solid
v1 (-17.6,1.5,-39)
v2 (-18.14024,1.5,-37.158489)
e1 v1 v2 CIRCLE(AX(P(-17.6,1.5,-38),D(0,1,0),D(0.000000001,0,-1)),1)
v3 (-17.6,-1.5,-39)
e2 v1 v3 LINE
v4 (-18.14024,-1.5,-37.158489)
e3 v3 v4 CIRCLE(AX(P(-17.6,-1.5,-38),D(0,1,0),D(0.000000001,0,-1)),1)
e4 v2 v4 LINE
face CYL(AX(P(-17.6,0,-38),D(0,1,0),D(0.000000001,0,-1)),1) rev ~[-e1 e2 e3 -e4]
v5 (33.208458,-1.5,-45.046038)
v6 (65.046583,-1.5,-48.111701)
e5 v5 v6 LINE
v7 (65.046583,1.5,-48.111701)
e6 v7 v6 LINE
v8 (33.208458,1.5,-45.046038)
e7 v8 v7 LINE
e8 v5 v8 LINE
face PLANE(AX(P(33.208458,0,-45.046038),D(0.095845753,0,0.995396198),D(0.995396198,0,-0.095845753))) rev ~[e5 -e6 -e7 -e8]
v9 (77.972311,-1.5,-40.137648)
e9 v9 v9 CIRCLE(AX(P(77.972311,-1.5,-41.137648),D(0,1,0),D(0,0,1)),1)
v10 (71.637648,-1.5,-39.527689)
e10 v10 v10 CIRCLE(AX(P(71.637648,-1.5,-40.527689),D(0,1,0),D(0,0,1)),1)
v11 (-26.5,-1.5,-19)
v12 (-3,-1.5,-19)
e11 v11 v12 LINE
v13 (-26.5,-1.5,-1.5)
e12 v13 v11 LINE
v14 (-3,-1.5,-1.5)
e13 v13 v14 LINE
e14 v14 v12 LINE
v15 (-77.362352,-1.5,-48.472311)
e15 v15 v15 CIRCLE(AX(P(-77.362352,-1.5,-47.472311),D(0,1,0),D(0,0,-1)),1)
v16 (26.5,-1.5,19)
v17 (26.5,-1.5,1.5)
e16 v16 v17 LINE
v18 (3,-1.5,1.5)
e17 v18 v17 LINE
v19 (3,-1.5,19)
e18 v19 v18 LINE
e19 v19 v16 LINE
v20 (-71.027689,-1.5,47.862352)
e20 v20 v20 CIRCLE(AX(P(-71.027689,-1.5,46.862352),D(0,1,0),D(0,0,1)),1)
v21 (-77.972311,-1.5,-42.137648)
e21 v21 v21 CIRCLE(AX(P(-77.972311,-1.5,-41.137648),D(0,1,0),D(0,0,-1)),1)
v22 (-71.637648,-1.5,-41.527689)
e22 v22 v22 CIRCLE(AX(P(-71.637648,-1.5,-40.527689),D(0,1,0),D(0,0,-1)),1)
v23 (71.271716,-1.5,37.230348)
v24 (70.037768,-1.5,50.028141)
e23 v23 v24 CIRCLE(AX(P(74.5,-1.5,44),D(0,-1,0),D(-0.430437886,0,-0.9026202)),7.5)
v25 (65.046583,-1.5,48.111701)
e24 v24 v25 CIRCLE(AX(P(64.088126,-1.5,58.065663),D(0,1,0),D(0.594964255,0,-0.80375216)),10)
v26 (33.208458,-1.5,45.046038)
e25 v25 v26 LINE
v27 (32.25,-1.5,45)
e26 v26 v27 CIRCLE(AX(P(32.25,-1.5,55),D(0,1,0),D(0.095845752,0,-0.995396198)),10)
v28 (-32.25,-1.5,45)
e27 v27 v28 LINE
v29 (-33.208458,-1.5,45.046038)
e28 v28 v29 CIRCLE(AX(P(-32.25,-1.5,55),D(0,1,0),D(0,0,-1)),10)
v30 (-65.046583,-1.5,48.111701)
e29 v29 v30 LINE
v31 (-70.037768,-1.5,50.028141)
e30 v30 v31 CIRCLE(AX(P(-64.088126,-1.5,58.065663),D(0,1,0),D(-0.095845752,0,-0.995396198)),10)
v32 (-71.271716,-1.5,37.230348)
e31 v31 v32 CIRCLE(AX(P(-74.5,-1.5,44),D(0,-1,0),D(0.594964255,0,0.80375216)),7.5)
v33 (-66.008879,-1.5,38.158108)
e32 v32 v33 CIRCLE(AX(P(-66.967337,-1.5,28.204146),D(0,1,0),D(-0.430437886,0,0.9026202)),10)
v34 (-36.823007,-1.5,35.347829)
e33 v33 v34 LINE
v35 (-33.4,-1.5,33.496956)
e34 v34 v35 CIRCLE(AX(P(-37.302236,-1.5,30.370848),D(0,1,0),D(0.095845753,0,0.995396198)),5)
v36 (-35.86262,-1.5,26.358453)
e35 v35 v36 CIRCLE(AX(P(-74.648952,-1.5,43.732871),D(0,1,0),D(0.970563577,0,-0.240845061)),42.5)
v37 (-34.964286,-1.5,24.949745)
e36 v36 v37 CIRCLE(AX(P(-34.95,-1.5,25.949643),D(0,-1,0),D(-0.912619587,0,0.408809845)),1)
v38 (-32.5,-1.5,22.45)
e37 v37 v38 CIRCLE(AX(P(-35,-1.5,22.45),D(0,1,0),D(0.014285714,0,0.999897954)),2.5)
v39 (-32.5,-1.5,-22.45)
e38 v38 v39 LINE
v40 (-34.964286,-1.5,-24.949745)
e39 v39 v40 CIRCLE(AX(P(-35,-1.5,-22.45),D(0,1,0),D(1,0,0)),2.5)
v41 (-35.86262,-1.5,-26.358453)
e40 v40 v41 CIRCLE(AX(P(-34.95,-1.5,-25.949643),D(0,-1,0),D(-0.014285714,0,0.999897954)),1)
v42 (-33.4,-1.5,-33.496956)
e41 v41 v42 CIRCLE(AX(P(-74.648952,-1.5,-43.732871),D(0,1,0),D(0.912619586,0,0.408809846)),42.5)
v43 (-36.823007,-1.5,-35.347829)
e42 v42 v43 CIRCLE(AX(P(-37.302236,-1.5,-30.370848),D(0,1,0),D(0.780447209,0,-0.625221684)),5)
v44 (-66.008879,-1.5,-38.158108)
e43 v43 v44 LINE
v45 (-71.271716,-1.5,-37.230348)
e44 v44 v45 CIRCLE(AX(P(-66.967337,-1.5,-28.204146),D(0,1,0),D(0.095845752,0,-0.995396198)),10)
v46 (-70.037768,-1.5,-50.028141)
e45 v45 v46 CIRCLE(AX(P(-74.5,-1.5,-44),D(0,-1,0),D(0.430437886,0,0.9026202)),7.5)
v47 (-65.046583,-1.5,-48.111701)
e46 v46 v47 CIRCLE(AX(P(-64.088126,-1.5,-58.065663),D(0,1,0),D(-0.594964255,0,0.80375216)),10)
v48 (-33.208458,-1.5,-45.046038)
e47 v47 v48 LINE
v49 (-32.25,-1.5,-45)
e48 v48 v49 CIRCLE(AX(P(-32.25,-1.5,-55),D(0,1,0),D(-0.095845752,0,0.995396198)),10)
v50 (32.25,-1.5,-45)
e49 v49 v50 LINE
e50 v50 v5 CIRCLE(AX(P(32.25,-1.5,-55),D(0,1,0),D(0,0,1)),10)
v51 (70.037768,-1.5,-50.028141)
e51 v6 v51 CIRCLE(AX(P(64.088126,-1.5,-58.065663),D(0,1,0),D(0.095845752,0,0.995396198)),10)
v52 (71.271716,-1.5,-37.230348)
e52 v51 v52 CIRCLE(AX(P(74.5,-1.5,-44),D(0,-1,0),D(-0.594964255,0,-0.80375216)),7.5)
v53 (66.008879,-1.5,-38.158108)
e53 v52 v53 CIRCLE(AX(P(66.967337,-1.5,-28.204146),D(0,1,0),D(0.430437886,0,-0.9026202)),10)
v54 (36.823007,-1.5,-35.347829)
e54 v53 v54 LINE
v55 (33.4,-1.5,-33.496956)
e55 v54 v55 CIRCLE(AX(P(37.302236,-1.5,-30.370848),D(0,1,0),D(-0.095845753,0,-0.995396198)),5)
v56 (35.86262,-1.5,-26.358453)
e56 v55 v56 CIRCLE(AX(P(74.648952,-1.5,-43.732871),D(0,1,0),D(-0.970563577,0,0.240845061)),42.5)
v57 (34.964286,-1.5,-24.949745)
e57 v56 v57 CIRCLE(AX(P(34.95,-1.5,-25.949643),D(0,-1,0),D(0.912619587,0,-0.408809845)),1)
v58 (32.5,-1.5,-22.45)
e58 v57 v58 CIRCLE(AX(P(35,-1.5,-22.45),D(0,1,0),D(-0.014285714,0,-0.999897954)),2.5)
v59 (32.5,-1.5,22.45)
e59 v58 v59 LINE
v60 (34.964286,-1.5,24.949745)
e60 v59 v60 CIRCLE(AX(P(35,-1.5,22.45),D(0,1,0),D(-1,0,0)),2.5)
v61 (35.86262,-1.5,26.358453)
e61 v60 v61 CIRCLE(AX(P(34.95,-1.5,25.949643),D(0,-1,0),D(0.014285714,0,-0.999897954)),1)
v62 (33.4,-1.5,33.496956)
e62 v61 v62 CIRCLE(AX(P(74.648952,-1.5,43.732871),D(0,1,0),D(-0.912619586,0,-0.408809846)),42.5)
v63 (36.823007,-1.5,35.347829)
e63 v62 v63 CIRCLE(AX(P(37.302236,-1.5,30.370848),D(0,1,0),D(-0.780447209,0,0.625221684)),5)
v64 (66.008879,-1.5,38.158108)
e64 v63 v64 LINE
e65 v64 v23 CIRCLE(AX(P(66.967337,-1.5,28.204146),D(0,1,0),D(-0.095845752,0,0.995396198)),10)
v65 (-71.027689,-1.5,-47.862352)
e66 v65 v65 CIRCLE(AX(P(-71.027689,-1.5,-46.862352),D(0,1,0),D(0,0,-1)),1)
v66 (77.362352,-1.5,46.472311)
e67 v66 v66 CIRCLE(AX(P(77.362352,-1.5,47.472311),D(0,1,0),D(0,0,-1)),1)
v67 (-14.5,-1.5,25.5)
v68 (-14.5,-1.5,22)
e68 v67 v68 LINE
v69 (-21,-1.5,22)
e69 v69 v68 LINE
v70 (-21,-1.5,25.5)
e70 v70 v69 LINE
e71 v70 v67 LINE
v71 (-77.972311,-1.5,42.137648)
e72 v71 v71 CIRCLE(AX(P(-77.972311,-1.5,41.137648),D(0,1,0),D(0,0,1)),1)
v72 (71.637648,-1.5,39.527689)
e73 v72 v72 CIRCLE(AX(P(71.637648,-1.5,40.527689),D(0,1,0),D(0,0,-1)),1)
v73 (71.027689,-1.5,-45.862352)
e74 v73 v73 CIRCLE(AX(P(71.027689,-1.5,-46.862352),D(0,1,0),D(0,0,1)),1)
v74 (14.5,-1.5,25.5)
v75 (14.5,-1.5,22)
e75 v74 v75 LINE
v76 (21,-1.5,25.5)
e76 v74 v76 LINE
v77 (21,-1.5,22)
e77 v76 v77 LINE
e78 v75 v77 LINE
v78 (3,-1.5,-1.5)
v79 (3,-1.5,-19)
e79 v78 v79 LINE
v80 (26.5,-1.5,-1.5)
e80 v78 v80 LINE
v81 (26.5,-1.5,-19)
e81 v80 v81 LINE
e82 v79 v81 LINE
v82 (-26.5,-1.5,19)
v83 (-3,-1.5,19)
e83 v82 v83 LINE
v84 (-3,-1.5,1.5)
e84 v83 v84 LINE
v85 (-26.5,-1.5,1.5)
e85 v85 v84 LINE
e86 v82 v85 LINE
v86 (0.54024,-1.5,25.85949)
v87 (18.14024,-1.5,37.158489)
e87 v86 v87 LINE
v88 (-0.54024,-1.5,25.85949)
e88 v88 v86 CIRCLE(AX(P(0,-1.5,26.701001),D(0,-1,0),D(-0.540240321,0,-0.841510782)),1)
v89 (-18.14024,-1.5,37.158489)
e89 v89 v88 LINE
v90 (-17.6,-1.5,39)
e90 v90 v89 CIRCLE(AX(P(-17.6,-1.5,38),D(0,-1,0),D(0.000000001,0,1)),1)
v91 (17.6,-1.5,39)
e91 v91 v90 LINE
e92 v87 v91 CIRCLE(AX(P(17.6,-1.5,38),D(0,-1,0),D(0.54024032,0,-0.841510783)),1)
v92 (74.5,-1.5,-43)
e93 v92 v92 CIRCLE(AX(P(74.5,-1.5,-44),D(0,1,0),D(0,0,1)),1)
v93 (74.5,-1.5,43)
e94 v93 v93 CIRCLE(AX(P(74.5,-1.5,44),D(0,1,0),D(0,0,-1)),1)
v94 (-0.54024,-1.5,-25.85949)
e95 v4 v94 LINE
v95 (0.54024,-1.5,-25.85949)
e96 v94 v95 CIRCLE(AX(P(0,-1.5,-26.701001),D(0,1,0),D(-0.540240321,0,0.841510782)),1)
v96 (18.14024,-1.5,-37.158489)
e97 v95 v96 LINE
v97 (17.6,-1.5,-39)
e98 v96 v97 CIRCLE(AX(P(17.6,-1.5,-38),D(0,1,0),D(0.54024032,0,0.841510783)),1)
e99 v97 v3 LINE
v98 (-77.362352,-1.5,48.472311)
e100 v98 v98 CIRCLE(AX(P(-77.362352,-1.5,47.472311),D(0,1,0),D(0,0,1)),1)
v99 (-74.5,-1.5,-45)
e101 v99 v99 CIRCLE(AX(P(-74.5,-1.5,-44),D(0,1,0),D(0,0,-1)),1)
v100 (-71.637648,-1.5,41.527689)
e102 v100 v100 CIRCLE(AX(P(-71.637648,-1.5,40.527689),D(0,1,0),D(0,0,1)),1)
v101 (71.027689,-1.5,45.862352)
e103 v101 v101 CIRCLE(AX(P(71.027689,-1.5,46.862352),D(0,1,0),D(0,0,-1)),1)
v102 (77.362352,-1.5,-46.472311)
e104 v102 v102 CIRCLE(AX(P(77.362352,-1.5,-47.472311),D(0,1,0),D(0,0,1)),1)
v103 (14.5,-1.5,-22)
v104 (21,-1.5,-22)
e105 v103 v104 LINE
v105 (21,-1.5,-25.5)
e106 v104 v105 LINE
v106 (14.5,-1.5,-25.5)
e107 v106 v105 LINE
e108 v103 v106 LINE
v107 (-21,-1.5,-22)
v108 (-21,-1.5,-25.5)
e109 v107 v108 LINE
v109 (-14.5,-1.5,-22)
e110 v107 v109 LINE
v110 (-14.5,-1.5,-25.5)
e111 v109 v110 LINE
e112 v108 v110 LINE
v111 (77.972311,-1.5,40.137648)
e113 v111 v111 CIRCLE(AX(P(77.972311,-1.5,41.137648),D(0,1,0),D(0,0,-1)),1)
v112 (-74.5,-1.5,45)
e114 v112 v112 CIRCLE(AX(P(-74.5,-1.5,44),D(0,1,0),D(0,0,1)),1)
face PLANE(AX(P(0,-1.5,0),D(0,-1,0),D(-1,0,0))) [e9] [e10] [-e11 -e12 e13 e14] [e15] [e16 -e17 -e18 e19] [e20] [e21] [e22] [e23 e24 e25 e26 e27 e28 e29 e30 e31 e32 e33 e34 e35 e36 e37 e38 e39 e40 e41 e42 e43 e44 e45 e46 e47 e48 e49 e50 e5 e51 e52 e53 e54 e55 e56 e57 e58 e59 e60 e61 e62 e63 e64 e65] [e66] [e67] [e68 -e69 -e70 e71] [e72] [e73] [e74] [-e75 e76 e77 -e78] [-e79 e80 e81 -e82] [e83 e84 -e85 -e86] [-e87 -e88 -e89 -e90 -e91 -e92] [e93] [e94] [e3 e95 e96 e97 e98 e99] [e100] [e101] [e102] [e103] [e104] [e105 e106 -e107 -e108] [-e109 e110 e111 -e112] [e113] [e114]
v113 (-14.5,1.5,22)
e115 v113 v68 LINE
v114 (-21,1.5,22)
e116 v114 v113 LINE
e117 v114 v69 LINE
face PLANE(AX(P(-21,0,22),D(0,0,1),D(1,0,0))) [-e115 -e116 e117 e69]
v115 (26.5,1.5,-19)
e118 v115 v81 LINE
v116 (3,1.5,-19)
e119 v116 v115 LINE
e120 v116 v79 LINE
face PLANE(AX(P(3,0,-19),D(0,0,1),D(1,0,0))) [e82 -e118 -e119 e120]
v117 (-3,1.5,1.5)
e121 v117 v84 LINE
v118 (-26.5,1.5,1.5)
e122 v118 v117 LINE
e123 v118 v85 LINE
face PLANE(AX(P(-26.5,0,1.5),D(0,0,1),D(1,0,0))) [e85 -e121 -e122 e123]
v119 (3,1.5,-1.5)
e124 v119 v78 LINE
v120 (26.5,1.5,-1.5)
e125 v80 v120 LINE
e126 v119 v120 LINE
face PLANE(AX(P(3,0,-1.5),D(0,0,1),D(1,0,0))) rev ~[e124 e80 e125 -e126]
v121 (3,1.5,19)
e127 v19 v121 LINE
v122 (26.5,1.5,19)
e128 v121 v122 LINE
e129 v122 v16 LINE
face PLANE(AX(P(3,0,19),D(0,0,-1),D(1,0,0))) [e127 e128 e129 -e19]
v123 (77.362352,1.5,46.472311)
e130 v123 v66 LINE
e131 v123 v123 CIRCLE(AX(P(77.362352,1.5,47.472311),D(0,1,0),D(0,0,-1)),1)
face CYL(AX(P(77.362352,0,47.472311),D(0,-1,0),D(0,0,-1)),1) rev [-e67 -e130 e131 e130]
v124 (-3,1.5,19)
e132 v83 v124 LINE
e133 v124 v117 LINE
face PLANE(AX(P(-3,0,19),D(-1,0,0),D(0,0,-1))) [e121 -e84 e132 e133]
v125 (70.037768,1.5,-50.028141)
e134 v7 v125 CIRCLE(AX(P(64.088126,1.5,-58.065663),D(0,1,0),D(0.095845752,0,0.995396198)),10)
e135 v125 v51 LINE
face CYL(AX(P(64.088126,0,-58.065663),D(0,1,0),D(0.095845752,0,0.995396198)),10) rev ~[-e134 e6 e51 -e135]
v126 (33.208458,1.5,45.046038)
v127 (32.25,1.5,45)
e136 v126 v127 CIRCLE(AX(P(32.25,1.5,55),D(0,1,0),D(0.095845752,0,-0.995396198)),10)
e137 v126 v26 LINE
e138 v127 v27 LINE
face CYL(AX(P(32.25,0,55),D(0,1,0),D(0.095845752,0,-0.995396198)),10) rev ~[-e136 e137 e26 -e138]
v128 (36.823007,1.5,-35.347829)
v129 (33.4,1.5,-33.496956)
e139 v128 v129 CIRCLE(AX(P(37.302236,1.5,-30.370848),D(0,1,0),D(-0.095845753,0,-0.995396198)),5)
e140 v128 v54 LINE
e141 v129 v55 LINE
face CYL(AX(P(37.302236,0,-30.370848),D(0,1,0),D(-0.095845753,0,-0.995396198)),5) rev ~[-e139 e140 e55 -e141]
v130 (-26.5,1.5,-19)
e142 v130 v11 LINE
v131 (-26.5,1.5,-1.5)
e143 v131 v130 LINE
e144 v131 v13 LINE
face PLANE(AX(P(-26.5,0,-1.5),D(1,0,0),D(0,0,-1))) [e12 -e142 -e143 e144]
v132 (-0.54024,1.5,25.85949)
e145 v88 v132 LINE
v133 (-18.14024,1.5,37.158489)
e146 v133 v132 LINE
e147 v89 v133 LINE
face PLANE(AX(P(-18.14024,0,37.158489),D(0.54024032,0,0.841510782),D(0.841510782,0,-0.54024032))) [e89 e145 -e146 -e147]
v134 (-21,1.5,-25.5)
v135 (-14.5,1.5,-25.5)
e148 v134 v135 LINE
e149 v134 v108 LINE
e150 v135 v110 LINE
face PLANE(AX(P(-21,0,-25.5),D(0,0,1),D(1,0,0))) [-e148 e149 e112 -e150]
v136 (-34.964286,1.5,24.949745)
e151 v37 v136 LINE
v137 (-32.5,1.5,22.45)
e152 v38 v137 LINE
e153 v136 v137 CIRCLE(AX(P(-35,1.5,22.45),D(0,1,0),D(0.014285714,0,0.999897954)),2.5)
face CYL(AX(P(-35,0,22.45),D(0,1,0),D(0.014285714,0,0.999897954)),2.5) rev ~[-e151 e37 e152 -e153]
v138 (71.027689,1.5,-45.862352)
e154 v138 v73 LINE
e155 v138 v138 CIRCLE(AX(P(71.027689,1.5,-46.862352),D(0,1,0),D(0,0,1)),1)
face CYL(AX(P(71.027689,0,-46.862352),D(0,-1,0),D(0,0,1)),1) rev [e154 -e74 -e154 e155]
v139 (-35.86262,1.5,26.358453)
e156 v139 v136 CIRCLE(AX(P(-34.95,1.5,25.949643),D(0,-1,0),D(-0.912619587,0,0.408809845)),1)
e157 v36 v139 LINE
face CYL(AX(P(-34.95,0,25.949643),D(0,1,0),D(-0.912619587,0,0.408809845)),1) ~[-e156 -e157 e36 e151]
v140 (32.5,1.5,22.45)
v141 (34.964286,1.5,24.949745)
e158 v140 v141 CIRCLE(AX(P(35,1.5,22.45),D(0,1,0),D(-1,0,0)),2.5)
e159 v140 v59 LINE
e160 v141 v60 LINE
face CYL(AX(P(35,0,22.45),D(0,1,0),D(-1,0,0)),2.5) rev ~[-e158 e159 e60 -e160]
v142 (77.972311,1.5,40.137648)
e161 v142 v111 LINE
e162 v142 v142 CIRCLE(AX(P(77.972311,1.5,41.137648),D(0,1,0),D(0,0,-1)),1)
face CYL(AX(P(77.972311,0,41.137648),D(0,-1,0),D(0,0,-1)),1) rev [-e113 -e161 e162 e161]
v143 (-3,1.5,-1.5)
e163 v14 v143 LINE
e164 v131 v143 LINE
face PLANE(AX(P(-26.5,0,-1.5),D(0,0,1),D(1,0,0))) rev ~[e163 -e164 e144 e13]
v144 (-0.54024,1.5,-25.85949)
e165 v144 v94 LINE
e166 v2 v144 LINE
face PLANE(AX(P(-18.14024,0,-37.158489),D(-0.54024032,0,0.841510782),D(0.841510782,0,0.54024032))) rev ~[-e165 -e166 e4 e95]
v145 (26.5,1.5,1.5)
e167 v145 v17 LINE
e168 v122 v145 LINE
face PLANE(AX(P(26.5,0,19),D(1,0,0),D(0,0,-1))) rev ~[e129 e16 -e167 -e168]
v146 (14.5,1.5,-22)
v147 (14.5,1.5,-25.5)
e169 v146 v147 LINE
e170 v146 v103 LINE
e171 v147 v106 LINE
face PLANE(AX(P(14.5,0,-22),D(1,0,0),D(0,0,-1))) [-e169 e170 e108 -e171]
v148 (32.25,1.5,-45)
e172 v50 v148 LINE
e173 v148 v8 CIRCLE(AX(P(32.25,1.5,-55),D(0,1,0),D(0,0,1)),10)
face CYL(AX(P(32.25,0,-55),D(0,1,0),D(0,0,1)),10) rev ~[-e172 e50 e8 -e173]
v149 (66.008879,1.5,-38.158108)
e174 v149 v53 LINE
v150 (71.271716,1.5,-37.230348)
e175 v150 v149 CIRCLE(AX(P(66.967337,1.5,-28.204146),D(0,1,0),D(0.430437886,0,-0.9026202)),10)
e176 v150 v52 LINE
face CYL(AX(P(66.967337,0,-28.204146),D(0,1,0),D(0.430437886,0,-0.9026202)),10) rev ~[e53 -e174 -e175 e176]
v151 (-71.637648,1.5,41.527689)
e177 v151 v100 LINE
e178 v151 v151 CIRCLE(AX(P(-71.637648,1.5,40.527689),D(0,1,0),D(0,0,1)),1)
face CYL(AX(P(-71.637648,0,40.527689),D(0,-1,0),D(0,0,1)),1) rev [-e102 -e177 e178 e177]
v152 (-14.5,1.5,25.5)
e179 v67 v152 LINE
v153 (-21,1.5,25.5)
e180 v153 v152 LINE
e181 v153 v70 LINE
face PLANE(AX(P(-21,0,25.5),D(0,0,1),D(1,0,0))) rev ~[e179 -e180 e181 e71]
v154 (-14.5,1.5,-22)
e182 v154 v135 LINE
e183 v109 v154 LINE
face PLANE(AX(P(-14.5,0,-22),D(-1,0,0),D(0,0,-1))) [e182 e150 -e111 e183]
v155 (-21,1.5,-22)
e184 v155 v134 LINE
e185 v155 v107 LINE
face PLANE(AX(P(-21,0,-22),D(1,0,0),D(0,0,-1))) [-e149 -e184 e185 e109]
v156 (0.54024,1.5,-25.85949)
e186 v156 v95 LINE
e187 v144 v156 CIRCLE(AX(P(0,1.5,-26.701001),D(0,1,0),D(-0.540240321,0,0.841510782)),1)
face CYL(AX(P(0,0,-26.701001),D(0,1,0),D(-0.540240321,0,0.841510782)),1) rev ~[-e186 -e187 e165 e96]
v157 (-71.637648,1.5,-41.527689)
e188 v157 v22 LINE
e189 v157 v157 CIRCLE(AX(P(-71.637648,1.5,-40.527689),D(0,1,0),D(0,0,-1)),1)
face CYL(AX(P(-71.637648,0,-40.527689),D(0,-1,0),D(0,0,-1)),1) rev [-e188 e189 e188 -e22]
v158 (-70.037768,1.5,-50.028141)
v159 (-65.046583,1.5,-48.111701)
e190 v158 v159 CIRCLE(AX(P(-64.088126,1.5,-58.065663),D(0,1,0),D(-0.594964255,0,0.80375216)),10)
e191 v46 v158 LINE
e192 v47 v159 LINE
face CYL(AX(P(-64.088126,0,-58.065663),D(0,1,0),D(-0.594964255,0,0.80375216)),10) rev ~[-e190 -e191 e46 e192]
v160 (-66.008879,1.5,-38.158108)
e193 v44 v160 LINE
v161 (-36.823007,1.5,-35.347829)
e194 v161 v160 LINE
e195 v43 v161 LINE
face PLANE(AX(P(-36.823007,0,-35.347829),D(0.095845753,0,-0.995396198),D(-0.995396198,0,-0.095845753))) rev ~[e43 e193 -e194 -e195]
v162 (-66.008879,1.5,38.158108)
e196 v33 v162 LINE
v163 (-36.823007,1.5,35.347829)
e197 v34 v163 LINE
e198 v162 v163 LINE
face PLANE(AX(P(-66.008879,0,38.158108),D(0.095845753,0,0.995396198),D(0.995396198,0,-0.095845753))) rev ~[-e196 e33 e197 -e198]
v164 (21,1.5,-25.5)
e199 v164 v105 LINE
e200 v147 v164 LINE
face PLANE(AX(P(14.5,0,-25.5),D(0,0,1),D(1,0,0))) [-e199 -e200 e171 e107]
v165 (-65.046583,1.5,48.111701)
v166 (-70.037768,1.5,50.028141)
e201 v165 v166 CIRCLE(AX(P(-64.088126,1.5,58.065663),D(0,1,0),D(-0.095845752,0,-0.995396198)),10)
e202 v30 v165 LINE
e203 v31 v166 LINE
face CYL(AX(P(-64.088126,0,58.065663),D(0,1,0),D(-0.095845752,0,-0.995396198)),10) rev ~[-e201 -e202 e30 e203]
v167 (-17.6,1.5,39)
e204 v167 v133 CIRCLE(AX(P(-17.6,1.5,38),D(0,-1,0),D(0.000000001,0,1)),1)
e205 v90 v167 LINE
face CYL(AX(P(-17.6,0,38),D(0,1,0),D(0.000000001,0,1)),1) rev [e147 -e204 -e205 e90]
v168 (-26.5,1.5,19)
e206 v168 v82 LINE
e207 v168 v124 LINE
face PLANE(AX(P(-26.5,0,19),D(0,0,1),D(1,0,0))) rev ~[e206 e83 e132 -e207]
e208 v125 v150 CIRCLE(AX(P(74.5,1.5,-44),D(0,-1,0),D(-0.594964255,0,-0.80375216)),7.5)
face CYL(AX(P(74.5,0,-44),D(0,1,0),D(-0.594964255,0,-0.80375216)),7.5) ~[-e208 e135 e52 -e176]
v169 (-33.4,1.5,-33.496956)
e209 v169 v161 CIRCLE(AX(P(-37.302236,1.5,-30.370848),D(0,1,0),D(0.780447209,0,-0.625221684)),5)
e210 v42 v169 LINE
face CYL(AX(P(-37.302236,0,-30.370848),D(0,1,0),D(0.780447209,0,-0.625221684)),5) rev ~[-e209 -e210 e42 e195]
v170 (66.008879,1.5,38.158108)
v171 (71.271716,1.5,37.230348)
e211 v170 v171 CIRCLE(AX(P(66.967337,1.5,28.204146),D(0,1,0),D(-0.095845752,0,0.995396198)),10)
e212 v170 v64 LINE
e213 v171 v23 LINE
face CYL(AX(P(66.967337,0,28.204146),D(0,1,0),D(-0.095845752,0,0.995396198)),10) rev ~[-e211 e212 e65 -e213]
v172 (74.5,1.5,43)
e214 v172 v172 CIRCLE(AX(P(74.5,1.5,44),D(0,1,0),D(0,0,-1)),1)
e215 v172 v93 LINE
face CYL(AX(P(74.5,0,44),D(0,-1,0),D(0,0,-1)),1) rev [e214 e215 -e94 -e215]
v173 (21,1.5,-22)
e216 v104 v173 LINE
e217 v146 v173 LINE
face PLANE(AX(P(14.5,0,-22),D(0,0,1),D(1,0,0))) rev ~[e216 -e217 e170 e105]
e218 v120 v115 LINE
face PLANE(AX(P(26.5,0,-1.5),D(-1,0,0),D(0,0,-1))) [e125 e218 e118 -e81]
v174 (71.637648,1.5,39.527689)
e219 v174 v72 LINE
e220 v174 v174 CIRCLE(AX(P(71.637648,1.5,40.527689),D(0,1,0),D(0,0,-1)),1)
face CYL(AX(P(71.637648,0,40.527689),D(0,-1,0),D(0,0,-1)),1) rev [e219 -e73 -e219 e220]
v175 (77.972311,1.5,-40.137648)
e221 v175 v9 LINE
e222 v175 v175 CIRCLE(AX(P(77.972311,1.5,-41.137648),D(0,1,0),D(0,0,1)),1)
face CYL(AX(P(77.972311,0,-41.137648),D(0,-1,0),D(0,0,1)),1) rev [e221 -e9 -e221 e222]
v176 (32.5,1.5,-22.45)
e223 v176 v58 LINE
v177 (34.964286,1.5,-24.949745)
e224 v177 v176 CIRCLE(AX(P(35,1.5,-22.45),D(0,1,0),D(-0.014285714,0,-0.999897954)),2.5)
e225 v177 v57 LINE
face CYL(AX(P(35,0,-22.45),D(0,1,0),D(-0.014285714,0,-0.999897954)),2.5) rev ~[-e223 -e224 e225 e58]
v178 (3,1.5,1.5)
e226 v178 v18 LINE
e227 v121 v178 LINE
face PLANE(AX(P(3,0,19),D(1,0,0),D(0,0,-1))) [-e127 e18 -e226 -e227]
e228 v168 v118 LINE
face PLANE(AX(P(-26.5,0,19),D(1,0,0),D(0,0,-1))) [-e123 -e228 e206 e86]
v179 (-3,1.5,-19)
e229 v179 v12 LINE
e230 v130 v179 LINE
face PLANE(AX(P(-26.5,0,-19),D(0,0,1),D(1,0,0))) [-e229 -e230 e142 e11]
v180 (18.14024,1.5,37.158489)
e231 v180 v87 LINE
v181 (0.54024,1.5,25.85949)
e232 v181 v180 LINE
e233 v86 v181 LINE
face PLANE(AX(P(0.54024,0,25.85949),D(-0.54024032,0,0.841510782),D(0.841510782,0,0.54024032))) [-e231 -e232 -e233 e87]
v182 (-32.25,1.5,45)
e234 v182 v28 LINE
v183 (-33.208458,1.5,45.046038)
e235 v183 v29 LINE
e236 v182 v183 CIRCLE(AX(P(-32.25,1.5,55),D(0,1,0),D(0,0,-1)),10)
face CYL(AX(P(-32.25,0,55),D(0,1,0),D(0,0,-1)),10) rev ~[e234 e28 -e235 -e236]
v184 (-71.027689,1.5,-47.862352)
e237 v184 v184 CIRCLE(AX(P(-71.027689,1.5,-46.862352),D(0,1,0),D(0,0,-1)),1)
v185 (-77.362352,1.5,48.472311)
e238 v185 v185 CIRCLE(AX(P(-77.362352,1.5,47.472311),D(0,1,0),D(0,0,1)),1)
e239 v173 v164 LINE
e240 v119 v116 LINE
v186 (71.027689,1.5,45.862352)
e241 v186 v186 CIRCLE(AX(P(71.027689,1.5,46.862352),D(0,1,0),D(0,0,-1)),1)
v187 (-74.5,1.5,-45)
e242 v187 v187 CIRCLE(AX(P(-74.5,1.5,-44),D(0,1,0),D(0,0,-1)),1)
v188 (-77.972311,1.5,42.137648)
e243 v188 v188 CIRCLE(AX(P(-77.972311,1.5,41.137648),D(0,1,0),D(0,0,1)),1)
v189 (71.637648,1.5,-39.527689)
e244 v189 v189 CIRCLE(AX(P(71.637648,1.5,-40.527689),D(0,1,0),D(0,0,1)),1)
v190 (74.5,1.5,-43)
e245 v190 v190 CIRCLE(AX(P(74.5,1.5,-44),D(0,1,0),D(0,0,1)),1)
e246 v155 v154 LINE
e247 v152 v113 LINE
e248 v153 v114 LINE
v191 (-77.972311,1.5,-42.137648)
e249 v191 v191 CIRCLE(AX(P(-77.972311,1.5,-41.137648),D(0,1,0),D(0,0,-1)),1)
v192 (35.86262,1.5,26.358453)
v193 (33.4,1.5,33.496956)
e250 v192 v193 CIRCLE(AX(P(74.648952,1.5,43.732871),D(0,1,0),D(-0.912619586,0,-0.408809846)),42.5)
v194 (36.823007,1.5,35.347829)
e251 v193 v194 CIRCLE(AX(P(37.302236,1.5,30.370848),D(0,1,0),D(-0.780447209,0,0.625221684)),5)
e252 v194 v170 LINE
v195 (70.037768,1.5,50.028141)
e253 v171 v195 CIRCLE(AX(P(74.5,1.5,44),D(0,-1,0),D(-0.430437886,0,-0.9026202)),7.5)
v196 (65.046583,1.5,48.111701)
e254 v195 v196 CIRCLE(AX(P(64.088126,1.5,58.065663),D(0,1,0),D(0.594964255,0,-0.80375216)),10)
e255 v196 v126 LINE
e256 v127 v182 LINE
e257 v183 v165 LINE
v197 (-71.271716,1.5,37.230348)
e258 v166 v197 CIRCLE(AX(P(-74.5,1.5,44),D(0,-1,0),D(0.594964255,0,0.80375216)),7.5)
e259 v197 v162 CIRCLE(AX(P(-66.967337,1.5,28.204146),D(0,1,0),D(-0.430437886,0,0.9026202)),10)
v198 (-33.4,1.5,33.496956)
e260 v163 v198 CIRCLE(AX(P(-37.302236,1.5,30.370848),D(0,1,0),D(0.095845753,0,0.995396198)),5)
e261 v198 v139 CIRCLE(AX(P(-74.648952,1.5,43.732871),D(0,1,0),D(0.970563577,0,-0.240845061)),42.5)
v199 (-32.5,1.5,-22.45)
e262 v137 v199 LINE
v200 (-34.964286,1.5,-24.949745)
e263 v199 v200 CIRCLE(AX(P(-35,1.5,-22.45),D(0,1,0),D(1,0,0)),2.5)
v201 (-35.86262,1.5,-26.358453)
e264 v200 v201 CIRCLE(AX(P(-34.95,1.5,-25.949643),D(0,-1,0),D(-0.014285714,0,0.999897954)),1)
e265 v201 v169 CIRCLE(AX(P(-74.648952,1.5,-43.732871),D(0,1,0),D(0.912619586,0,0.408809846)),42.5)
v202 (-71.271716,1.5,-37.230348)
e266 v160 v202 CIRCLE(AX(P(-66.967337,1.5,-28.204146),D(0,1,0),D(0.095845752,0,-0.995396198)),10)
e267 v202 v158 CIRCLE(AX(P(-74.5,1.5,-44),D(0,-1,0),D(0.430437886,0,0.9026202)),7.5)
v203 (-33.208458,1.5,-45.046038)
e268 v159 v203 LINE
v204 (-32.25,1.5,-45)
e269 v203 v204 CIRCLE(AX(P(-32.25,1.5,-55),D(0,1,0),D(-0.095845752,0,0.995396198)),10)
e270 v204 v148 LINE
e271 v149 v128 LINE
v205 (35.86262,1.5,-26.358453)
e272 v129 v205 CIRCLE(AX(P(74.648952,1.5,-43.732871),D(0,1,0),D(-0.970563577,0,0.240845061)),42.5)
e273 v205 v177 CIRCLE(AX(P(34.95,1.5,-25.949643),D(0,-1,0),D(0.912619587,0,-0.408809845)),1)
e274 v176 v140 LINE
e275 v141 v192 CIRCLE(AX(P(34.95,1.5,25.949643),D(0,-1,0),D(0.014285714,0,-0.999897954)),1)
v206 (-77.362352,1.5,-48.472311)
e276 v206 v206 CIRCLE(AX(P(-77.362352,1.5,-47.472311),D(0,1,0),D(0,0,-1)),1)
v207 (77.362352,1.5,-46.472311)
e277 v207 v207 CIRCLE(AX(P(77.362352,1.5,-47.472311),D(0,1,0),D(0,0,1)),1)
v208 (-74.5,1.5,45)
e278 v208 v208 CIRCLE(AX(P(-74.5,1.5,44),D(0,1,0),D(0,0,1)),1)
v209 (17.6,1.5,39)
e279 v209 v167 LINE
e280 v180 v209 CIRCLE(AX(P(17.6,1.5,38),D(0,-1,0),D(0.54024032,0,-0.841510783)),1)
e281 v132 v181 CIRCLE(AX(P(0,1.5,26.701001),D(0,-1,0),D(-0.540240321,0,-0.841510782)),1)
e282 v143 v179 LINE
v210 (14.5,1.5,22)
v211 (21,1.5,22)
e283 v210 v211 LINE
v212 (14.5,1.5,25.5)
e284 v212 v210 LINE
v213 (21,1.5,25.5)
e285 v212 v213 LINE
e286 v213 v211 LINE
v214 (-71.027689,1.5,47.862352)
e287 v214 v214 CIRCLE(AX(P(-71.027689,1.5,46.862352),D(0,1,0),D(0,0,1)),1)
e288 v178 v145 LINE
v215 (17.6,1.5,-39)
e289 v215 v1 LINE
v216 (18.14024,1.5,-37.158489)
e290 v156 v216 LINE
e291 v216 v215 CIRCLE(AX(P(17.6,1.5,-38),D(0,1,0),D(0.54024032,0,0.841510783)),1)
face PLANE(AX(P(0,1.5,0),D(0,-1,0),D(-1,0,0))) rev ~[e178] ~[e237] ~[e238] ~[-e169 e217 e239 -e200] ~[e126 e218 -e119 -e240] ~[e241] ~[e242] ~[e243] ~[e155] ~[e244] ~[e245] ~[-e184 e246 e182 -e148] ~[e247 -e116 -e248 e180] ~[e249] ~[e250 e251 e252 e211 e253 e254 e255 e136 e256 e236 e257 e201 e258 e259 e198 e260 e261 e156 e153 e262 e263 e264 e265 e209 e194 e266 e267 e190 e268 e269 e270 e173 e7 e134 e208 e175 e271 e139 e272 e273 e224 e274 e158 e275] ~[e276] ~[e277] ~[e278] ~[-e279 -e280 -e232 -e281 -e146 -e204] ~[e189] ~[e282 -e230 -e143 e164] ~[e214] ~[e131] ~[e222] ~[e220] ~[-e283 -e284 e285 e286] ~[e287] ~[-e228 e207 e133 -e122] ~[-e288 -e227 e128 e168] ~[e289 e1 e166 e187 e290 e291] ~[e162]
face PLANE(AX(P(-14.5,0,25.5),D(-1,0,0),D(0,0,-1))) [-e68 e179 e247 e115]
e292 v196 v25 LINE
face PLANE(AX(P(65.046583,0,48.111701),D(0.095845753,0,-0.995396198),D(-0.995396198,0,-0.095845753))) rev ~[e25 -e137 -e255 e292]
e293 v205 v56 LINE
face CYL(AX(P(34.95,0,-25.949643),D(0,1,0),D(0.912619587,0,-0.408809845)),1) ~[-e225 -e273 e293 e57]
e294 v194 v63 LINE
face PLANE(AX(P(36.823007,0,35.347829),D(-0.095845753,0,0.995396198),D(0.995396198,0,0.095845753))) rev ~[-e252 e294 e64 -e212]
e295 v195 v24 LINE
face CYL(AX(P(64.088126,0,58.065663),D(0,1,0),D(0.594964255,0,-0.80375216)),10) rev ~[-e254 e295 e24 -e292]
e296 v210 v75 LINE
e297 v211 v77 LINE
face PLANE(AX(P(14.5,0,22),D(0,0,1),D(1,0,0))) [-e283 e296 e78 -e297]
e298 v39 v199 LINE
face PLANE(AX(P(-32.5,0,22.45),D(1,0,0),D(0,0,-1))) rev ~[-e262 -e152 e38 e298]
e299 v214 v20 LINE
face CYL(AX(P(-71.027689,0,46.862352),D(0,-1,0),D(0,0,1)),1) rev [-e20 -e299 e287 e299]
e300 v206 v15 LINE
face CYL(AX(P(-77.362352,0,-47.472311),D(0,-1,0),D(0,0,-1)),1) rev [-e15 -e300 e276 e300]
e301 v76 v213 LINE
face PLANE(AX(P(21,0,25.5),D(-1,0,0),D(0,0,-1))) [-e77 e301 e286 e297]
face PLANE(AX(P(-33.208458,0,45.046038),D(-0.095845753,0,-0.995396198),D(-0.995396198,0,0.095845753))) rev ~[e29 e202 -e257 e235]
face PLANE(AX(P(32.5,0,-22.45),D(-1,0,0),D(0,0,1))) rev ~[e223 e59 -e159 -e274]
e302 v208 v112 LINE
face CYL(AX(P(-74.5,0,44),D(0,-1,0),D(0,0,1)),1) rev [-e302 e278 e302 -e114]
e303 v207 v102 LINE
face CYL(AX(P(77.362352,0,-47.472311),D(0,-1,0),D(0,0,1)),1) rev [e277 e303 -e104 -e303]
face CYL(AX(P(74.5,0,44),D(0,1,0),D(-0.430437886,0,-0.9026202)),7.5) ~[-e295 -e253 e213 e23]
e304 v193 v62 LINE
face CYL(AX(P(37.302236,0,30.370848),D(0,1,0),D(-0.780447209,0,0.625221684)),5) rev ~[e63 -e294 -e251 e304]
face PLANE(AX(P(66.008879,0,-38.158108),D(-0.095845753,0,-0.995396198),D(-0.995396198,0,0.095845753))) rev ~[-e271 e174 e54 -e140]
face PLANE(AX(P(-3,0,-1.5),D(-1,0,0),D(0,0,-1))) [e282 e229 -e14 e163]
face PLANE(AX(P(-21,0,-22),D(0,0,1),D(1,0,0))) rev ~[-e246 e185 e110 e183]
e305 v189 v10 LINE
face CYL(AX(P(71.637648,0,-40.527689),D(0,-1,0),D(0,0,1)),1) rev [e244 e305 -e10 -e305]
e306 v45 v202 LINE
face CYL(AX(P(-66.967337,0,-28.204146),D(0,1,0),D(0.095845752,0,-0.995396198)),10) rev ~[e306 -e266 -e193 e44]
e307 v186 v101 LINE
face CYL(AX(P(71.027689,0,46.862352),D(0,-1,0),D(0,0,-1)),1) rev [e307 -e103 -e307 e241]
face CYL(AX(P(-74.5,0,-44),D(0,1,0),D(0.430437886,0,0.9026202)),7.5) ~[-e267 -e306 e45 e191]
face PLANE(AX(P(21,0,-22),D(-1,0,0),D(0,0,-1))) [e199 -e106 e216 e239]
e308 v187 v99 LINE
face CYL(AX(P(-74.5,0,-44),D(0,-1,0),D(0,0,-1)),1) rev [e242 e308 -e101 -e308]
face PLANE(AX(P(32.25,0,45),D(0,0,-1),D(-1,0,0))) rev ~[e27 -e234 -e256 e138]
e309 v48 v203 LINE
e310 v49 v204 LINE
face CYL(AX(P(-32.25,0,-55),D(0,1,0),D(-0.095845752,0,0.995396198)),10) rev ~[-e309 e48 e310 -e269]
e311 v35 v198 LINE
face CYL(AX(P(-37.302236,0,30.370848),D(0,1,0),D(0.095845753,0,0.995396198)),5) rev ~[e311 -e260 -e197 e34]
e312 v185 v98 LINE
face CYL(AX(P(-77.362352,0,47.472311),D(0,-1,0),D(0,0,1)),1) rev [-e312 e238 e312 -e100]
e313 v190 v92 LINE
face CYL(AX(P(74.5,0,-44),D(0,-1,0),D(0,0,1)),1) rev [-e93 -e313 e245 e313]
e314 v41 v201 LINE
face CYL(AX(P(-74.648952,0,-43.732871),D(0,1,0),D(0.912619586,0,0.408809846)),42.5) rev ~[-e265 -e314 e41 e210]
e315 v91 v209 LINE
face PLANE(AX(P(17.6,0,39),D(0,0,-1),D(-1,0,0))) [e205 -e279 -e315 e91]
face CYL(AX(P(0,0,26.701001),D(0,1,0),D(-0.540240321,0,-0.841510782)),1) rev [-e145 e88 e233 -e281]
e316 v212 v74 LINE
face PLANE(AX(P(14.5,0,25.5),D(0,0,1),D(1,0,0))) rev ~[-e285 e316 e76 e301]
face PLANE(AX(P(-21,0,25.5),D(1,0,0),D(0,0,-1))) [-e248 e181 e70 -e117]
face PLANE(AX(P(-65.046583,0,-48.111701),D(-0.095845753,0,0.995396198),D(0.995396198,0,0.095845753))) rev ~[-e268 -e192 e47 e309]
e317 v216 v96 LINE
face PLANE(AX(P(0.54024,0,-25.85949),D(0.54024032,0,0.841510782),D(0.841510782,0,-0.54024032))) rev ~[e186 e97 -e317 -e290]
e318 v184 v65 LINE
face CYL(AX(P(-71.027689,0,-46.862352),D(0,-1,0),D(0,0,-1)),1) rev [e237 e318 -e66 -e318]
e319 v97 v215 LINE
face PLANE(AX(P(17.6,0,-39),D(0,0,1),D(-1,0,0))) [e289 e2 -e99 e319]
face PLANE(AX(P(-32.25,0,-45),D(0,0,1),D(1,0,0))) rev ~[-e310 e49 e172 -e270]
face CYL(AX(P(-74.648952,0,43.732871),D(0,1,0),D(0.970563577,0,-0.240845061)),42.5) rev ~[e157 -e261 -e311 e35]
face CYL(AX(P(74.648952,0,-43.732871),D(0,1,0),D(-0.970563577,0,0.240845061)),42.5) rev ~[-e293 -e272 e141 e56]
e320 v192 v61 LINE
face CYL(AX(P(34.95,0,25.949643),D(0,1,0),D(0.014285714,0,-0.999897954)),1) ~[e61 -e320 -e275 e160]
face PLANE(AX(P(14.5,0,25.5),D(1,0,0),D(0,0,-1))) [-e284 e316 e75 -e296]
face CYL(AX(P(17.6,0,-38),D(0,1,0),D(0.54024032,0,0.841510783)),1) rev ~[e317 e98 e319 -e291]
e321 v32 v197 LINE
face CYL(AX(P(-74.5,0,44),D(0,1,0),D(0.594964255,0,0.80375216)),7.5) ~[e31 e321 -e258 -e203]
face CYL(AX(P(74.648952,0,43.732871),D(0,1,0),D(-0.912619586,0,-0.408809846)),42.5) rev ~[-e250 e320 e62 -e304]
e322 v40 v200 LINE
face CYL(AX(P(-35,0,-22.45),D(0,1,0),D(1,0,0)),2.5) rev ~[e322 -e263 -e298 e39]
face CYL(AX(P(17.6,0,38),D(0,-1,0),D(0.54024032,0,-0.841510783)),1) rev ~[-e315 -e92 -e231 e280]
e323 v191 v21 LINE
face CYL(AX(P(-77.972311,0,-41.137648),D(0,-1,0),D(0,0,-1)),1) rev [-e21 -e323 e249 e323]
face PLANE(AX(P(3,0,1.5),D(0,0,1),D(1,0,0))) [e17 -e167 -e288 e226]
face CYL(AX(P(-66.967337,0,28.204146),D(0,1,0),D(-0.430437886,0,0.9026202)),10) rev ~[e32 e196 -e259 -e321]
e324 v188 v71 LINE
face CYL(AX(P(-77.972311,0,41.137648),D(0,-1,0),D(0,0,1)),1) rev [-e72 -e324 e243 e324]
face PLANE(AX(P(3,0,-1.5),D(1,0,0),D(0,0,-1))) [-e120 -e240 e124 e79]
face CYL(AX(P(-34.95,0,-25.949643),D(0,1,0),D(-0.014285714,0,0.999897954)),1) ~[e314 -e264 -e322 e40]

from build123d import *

# Parameters (mm, degrees)
SKETCH1_R           = 1
SKETCH1_W           = 23.5
SKETCH1_H           = 17.5
SKETCH1_W_2         = 6.5
SKETCH1_H_2         = 3.5
BOSS_EXTRUDE1_DEPTH = 1.5


with BuildPart() as part:
    # Sketch1 → Boss-Extrude1 (new, symmetric)
    with BuildSketch(Plane(origin=(0, 0, 0), x_dir=(1, 0, 0), z_dir=(0, 1, 0))):
        with BuildLine():
            Line((33.208457525, 45.046038016), (65.04658306, 48.11170082))
            ThreePointArc((65.04658306, 48.11170082), (67.67262656, 48.730173936), (70.037768086, 50.028141202))
            ThreePointArc((70.037768086, 50.028141202), (81.965379016, 44.719802857), (71.271715852, 37.230348498))
            ThreePointArc((71.271715852, 37.230348498), (68.703419373, 38.05229444), (66.008879463, 38.158108479))
            Line((66.008879463, 38.158108479), (36.823007283, 35.347828626))
            ThreePointArc((36.823007283, 35.347828626), (34.924055904, 34.769058544), (33.4, 33.496956053))
            ThreePointArc((33.4, 33.496956053), (34.472450841, 29.872901682), (35.862619587, 26.358452685))
            ThreePointArc((35.862619587, 26.358452685), (35.793150506, 25.411965218), (34.964285714, 24.949744885))
            ThreePointArc((34.964285714, 24.949744885), (33.219650917, 24.205094625), (32.5, 22.45))
            Line((32.5, 22.45), (32.5, -22.45))
            ThreePointArc((32.5, -22.45), (33.219650917, -24.205094625), (34.964285714, -24.949744885))
            ThreePointArc((34.964285714, -24.949744885), (35.793150506, -25.411965218), (35.862619587, -26.358452685))
            ThreePointArc((35.862619587, -26.358452685), (34.472450841, -29.872901682), (33.4, -33.496956053))
            ThreePointArc((33.4, -33.496956053), (34.924055904, -34.769058544), (36.823007283, -35.347828626))
            Line((36.823007283, -35.347828626), (66.008879463, -38.158108479))
            ThreePointArc((66.008879463, -38.158108479), (68.703419373, -38.05229444), (71.271715852, -37.230348498))
            ThreePointArc((71.271715852, -37.230348498), (81.965379016, -44.719802857), (70.037768086, -50.028141202))
            ThreePointArc((70.037768086, -50.028141202), (67.67262656, -48.730173936), (65.04658306, -48.11170082))
            Line((65.04658306, -48.11170082), (33.208457525, -45.046038016))
            ThreePointArc((33.208457525, -45.046038016), (32.729781285, -45.011516135), (32.25, -45))
            Line((32.25, -45), (-32.25, -45))
            ThreePointArc((-32.25, -45), (-32.729781285, -45.011516135), (-33.208457525, -45.046038016))
            Line((-33.208457525, -45.046038016), (-65.04658306, -48.11170082))
            ThreePointArc((-65.04658306, -48.11170082), (-67.67262656, -48.730173936), (-70.037768086, -50.028141202))
            ThreePointArc((-70.037768086, -50.028141202), (-81.965379016, -44.719802857), (-71.271715852, -37.230348498))
            ThreePointArc((-71.271715852, -37.230348498), (-68.703419373, -38.05229444), (-66.008879463, -38.158108479))
            Line((-66.008879463, -38.158108479), (-36.823007283, -35.347828626))
            ThreePointArc((-36.823007283, -35.347828626), (-34.924055904, -34.769058544), (-33.4, -33.496956053))
            ThreePointArc((-33.4, -33.496956053), (-34.472450841, -29.872901682), (-35.862619587, -26.358452685))
            ThreePointArc((-35.862619587, -26.358452685), (-35.793150506, -25.411965218), (-34.964285714, -24.949744885))
            ThreePointArc((-34.964285714, -24.949744885), (-33.219650917, -24.205094625), (-32.5, -22.45))
            Line((-32.5, -22.45), (-32.5, 22.45))
            ThreePointArc((-32.5, 22.45), (-33.219650917, 24.205094625), (-34.964285714, 24.949744885))
            ThreePointArc((-34.964285714, 24.949744885), (-35.793150506, 25.411965218), (-35.862619587, 26.358452685))
            ThreePointArc((-35.862619587, 26.358452685), (-34.472450841, 29.872901682), (-33.4, 33.496956053))
            ThreePointArc((-33.4, 33.496956053), (-34.924055904, 34.769058544), (-36.823007283, 35.347828626))
            Line((-36.823007283, 35.347828626), (-66.008879463, 38.158108479))
            ThreePointArc((-66.008879463, 38.158108479), (-68.703419373, 38.05229444), (-71.271715852, 37.230348498))
            ThreePointArc((-71.271715852, 37.230348498), (-81.965379016, 44.719802857), (-70.037768086, 50.028141202))
            ThreePointArc((-70.037768086, 50.028141202), (-67.67262656, 48.730173936), (-65.04658306, 48.11170082))
            Line((-65.04658306, 48.11170082), (-33.208457525, 45.046038016))
            ThreePointArc((-33.208457525, 45.046038016), (-32.729781285, 45.011516135), (-32.25, 45))
            Line((-32.25, 45), (32.25, 45))
            ThreePointArc((32.25, 45), (32.729781285, 45.011516135), (33.208457525, 45.046038016))
        make_face()
        with Locations(Location((74.5, 44, 0), (0, 0, 270))):
            Circle(SKETCH1_R, mode=Mode.SUBTRACT)
        with Locations(Location((71.027689375, 46.862351991, 0), (0, 0, 270))):
            Circle(SKETCH1_R, mode=Mode.SUBTRACT)
        with Locations(Location((77.362351991, 47.472310625, 0), (0, 0, 270))):
            Circle(SKETCH1_R, mode=Mode.SUBTRACT)
        with Locations(Location((77.972310625, 41.137648009, 0), (0, 0, 270))):
            Circle(SKETCH1_R, mode=Mode.SUBTRACT)
        with Locations(Location((71.637648009, 40.527689375, 0), (0, 0, 270))):
            Circle(SKETCH1_R, mode=Mode.SUBTRACT)
        with Locations(Location((-71.637648009, 40.527689375, 0), (0, 0, 90))):
            Circle(SKETCH1_R, mode=Mode.SUBTRACT)
        with Locations(Location((-77.972310625, 41.137648009, 0), (0, 0, 90))):
            Circle(SKETCH1_R, mode=Mode.SUBTRACT)
        with Locations(Location((-77.362351991, 47.472310625, 0), (0, 0, 90))):
            Circle(SKETCH1_R, mode=Mode.SUBTRACT)
        with Locations(Location((-71.027689375, 46.862351991, 0), (0, 0, 90))):
            Circle(SKETCH1_R, mode=Mode.SUBTRACT)
        with Locations(Location((-74.5, 44, 0), (0, 0, 90))):
            Circle(SKETCH1_R, mode=Mode.SUBTRACT)
        with Locations(Location((-74.5, -44, 0), (0, 0, 270))):
            Circle(SKETCH1_R, mode=Mode.SUBTRACT)
        with Locations(Location((-71.027689375, -46.862351991, 0), (0, 0, 270))):
            Circle(SKETCH1_R, mode=Mode.SUBTRACT)
        with Locations(Location((-77.362351991, -47.472310625, 0), (0, 0, 270))):
            Circle(SKETCH1_R, mode=Mode.SUBTRACT)
        with Locations(Location((-77.972310625, -41.137648009, 0), (0, 0, 270))):
            Circle(SKETCH1_R, mode=Mode.SUBTRACT)
        with Locations(Location((-71.637648009, -40.527689375, 0), (0, 0, 270))):
            Circle(SKETCH1_R, mode=Mode.SUBTRACT)
        with Locations(Location((71.637648009, -40.527689375, 0), (0, 0, 90))):
            Circle(SKETCH1_R, mode=Mode.SUBTRACT)
        with Locations(Location((77.972310625, -41.137648009, 0), (0, 0, 90))):
            Circle(SKETCH1_R, mode=Mode.SUBTRACT)
        with Locations(Location((77.362351991, -47.472310625, 0), (0, 0, 90))):
            Circle(SKETCH1_R, mode=Mode.SUBTRACT)
        with Locations(Location((71.027689375, -46.862351991, 0), (0, 0, 90))):
            Circle(SKETCH1_R, mode=Mode.SUBTRACT)
        with Locations(Location((74.5, -44, 0), (0, 0, 90))):
            Circle(SKETCH1_R, mode=Mode.SUBTRACT)
        with BuildLine():
            Line((0.54024032, 25.859490032), (18.14024032, 37.158489218))
            ThreePointArc((18.14024032, 37.158489218), (18.559559999, 38.28150419), (17.6, 39))
            Line((17.6, 39), (-17.6, 39))
            ThreePointArc((-17.6, 39), (-18.559559999, 38.28150419), (-18.14024032, 37.158489218))
            Line((-18.14024032, 37.158489218), (-0.54024032, 25.859490032))
            ThreePointArc((-0.54024032, 25.859490032), (0, 25.701000814), (0.54024032, 25.859490032))
        make_face(mode=Mode.SUBTRACT)
        with Locations((14.75, 10.25)):
            Rectangle(SKETCH1_W, SKETCH1_H, mode=Mode.SUBTRACT)
        with Locations((17.75, 23.75)):
            Rectangle(SKETCH1_W_2, SKETCH1_H_2, mode=Mode.SUBTRACT)
        with Locations((-17.75, 23.75)):
            Rectangle(SKETCH1_W_2, SKETCH1_H_2, mode=Mode.SUBTRACT)
        with Locations((-14.75, 10.25)):
            Rectangle(SKETCH1_W, SKETCH1_H, mode=Mode.SUBTRACT)
        with Locations((-14.75, -10.25)):
            Rectangle(SKETCH1_W, SKETCH1_H, mode=Mode.SUBTRACT)
        with Locations((-17.75, -23.75)):
            Rectangle(SKETCH1_W_2, SKETCH1_H_2, mode=Mode.SUBTRACT)
        with BuildLine():
            Line((-18.14024032, -37.158489218), (-0.54024032, -25.859490032))
            ThreePointArc((-0.54024032, -25.859490032), (0, -25.701000814), (0.54024032, -25.859490032))
            Line((0.54024032, -25.859490032), (18.14024032, -37.158489218))
            ThreePointArc((18.14024032, -37.158489218), (18.559559999, -38.28150419), (17.6, -39))
            Line((17.6, -39), (-17.6, -39))
            ThreePointArc((-17.6, -39), (-18.559559999, -38.28150419), (-18.14024032, -37.158489218))
        make_face(mode=Mode.SUBTRACT)
        with Locations((17.75, -23.75)):
            Rectangle(SKETCH1_W_2, SKETCH1_H_2, mode=Mode.SUBTRACT)
        with Locations((14.75, -10.25)):
            Rectangle(SKETCH1_W, SKETCH1_H, mode=Mode.SUBTRACT)
    extrude(amount=BOSS_EXTRUDE1_DEPTH, both=True)


solid = part.part
